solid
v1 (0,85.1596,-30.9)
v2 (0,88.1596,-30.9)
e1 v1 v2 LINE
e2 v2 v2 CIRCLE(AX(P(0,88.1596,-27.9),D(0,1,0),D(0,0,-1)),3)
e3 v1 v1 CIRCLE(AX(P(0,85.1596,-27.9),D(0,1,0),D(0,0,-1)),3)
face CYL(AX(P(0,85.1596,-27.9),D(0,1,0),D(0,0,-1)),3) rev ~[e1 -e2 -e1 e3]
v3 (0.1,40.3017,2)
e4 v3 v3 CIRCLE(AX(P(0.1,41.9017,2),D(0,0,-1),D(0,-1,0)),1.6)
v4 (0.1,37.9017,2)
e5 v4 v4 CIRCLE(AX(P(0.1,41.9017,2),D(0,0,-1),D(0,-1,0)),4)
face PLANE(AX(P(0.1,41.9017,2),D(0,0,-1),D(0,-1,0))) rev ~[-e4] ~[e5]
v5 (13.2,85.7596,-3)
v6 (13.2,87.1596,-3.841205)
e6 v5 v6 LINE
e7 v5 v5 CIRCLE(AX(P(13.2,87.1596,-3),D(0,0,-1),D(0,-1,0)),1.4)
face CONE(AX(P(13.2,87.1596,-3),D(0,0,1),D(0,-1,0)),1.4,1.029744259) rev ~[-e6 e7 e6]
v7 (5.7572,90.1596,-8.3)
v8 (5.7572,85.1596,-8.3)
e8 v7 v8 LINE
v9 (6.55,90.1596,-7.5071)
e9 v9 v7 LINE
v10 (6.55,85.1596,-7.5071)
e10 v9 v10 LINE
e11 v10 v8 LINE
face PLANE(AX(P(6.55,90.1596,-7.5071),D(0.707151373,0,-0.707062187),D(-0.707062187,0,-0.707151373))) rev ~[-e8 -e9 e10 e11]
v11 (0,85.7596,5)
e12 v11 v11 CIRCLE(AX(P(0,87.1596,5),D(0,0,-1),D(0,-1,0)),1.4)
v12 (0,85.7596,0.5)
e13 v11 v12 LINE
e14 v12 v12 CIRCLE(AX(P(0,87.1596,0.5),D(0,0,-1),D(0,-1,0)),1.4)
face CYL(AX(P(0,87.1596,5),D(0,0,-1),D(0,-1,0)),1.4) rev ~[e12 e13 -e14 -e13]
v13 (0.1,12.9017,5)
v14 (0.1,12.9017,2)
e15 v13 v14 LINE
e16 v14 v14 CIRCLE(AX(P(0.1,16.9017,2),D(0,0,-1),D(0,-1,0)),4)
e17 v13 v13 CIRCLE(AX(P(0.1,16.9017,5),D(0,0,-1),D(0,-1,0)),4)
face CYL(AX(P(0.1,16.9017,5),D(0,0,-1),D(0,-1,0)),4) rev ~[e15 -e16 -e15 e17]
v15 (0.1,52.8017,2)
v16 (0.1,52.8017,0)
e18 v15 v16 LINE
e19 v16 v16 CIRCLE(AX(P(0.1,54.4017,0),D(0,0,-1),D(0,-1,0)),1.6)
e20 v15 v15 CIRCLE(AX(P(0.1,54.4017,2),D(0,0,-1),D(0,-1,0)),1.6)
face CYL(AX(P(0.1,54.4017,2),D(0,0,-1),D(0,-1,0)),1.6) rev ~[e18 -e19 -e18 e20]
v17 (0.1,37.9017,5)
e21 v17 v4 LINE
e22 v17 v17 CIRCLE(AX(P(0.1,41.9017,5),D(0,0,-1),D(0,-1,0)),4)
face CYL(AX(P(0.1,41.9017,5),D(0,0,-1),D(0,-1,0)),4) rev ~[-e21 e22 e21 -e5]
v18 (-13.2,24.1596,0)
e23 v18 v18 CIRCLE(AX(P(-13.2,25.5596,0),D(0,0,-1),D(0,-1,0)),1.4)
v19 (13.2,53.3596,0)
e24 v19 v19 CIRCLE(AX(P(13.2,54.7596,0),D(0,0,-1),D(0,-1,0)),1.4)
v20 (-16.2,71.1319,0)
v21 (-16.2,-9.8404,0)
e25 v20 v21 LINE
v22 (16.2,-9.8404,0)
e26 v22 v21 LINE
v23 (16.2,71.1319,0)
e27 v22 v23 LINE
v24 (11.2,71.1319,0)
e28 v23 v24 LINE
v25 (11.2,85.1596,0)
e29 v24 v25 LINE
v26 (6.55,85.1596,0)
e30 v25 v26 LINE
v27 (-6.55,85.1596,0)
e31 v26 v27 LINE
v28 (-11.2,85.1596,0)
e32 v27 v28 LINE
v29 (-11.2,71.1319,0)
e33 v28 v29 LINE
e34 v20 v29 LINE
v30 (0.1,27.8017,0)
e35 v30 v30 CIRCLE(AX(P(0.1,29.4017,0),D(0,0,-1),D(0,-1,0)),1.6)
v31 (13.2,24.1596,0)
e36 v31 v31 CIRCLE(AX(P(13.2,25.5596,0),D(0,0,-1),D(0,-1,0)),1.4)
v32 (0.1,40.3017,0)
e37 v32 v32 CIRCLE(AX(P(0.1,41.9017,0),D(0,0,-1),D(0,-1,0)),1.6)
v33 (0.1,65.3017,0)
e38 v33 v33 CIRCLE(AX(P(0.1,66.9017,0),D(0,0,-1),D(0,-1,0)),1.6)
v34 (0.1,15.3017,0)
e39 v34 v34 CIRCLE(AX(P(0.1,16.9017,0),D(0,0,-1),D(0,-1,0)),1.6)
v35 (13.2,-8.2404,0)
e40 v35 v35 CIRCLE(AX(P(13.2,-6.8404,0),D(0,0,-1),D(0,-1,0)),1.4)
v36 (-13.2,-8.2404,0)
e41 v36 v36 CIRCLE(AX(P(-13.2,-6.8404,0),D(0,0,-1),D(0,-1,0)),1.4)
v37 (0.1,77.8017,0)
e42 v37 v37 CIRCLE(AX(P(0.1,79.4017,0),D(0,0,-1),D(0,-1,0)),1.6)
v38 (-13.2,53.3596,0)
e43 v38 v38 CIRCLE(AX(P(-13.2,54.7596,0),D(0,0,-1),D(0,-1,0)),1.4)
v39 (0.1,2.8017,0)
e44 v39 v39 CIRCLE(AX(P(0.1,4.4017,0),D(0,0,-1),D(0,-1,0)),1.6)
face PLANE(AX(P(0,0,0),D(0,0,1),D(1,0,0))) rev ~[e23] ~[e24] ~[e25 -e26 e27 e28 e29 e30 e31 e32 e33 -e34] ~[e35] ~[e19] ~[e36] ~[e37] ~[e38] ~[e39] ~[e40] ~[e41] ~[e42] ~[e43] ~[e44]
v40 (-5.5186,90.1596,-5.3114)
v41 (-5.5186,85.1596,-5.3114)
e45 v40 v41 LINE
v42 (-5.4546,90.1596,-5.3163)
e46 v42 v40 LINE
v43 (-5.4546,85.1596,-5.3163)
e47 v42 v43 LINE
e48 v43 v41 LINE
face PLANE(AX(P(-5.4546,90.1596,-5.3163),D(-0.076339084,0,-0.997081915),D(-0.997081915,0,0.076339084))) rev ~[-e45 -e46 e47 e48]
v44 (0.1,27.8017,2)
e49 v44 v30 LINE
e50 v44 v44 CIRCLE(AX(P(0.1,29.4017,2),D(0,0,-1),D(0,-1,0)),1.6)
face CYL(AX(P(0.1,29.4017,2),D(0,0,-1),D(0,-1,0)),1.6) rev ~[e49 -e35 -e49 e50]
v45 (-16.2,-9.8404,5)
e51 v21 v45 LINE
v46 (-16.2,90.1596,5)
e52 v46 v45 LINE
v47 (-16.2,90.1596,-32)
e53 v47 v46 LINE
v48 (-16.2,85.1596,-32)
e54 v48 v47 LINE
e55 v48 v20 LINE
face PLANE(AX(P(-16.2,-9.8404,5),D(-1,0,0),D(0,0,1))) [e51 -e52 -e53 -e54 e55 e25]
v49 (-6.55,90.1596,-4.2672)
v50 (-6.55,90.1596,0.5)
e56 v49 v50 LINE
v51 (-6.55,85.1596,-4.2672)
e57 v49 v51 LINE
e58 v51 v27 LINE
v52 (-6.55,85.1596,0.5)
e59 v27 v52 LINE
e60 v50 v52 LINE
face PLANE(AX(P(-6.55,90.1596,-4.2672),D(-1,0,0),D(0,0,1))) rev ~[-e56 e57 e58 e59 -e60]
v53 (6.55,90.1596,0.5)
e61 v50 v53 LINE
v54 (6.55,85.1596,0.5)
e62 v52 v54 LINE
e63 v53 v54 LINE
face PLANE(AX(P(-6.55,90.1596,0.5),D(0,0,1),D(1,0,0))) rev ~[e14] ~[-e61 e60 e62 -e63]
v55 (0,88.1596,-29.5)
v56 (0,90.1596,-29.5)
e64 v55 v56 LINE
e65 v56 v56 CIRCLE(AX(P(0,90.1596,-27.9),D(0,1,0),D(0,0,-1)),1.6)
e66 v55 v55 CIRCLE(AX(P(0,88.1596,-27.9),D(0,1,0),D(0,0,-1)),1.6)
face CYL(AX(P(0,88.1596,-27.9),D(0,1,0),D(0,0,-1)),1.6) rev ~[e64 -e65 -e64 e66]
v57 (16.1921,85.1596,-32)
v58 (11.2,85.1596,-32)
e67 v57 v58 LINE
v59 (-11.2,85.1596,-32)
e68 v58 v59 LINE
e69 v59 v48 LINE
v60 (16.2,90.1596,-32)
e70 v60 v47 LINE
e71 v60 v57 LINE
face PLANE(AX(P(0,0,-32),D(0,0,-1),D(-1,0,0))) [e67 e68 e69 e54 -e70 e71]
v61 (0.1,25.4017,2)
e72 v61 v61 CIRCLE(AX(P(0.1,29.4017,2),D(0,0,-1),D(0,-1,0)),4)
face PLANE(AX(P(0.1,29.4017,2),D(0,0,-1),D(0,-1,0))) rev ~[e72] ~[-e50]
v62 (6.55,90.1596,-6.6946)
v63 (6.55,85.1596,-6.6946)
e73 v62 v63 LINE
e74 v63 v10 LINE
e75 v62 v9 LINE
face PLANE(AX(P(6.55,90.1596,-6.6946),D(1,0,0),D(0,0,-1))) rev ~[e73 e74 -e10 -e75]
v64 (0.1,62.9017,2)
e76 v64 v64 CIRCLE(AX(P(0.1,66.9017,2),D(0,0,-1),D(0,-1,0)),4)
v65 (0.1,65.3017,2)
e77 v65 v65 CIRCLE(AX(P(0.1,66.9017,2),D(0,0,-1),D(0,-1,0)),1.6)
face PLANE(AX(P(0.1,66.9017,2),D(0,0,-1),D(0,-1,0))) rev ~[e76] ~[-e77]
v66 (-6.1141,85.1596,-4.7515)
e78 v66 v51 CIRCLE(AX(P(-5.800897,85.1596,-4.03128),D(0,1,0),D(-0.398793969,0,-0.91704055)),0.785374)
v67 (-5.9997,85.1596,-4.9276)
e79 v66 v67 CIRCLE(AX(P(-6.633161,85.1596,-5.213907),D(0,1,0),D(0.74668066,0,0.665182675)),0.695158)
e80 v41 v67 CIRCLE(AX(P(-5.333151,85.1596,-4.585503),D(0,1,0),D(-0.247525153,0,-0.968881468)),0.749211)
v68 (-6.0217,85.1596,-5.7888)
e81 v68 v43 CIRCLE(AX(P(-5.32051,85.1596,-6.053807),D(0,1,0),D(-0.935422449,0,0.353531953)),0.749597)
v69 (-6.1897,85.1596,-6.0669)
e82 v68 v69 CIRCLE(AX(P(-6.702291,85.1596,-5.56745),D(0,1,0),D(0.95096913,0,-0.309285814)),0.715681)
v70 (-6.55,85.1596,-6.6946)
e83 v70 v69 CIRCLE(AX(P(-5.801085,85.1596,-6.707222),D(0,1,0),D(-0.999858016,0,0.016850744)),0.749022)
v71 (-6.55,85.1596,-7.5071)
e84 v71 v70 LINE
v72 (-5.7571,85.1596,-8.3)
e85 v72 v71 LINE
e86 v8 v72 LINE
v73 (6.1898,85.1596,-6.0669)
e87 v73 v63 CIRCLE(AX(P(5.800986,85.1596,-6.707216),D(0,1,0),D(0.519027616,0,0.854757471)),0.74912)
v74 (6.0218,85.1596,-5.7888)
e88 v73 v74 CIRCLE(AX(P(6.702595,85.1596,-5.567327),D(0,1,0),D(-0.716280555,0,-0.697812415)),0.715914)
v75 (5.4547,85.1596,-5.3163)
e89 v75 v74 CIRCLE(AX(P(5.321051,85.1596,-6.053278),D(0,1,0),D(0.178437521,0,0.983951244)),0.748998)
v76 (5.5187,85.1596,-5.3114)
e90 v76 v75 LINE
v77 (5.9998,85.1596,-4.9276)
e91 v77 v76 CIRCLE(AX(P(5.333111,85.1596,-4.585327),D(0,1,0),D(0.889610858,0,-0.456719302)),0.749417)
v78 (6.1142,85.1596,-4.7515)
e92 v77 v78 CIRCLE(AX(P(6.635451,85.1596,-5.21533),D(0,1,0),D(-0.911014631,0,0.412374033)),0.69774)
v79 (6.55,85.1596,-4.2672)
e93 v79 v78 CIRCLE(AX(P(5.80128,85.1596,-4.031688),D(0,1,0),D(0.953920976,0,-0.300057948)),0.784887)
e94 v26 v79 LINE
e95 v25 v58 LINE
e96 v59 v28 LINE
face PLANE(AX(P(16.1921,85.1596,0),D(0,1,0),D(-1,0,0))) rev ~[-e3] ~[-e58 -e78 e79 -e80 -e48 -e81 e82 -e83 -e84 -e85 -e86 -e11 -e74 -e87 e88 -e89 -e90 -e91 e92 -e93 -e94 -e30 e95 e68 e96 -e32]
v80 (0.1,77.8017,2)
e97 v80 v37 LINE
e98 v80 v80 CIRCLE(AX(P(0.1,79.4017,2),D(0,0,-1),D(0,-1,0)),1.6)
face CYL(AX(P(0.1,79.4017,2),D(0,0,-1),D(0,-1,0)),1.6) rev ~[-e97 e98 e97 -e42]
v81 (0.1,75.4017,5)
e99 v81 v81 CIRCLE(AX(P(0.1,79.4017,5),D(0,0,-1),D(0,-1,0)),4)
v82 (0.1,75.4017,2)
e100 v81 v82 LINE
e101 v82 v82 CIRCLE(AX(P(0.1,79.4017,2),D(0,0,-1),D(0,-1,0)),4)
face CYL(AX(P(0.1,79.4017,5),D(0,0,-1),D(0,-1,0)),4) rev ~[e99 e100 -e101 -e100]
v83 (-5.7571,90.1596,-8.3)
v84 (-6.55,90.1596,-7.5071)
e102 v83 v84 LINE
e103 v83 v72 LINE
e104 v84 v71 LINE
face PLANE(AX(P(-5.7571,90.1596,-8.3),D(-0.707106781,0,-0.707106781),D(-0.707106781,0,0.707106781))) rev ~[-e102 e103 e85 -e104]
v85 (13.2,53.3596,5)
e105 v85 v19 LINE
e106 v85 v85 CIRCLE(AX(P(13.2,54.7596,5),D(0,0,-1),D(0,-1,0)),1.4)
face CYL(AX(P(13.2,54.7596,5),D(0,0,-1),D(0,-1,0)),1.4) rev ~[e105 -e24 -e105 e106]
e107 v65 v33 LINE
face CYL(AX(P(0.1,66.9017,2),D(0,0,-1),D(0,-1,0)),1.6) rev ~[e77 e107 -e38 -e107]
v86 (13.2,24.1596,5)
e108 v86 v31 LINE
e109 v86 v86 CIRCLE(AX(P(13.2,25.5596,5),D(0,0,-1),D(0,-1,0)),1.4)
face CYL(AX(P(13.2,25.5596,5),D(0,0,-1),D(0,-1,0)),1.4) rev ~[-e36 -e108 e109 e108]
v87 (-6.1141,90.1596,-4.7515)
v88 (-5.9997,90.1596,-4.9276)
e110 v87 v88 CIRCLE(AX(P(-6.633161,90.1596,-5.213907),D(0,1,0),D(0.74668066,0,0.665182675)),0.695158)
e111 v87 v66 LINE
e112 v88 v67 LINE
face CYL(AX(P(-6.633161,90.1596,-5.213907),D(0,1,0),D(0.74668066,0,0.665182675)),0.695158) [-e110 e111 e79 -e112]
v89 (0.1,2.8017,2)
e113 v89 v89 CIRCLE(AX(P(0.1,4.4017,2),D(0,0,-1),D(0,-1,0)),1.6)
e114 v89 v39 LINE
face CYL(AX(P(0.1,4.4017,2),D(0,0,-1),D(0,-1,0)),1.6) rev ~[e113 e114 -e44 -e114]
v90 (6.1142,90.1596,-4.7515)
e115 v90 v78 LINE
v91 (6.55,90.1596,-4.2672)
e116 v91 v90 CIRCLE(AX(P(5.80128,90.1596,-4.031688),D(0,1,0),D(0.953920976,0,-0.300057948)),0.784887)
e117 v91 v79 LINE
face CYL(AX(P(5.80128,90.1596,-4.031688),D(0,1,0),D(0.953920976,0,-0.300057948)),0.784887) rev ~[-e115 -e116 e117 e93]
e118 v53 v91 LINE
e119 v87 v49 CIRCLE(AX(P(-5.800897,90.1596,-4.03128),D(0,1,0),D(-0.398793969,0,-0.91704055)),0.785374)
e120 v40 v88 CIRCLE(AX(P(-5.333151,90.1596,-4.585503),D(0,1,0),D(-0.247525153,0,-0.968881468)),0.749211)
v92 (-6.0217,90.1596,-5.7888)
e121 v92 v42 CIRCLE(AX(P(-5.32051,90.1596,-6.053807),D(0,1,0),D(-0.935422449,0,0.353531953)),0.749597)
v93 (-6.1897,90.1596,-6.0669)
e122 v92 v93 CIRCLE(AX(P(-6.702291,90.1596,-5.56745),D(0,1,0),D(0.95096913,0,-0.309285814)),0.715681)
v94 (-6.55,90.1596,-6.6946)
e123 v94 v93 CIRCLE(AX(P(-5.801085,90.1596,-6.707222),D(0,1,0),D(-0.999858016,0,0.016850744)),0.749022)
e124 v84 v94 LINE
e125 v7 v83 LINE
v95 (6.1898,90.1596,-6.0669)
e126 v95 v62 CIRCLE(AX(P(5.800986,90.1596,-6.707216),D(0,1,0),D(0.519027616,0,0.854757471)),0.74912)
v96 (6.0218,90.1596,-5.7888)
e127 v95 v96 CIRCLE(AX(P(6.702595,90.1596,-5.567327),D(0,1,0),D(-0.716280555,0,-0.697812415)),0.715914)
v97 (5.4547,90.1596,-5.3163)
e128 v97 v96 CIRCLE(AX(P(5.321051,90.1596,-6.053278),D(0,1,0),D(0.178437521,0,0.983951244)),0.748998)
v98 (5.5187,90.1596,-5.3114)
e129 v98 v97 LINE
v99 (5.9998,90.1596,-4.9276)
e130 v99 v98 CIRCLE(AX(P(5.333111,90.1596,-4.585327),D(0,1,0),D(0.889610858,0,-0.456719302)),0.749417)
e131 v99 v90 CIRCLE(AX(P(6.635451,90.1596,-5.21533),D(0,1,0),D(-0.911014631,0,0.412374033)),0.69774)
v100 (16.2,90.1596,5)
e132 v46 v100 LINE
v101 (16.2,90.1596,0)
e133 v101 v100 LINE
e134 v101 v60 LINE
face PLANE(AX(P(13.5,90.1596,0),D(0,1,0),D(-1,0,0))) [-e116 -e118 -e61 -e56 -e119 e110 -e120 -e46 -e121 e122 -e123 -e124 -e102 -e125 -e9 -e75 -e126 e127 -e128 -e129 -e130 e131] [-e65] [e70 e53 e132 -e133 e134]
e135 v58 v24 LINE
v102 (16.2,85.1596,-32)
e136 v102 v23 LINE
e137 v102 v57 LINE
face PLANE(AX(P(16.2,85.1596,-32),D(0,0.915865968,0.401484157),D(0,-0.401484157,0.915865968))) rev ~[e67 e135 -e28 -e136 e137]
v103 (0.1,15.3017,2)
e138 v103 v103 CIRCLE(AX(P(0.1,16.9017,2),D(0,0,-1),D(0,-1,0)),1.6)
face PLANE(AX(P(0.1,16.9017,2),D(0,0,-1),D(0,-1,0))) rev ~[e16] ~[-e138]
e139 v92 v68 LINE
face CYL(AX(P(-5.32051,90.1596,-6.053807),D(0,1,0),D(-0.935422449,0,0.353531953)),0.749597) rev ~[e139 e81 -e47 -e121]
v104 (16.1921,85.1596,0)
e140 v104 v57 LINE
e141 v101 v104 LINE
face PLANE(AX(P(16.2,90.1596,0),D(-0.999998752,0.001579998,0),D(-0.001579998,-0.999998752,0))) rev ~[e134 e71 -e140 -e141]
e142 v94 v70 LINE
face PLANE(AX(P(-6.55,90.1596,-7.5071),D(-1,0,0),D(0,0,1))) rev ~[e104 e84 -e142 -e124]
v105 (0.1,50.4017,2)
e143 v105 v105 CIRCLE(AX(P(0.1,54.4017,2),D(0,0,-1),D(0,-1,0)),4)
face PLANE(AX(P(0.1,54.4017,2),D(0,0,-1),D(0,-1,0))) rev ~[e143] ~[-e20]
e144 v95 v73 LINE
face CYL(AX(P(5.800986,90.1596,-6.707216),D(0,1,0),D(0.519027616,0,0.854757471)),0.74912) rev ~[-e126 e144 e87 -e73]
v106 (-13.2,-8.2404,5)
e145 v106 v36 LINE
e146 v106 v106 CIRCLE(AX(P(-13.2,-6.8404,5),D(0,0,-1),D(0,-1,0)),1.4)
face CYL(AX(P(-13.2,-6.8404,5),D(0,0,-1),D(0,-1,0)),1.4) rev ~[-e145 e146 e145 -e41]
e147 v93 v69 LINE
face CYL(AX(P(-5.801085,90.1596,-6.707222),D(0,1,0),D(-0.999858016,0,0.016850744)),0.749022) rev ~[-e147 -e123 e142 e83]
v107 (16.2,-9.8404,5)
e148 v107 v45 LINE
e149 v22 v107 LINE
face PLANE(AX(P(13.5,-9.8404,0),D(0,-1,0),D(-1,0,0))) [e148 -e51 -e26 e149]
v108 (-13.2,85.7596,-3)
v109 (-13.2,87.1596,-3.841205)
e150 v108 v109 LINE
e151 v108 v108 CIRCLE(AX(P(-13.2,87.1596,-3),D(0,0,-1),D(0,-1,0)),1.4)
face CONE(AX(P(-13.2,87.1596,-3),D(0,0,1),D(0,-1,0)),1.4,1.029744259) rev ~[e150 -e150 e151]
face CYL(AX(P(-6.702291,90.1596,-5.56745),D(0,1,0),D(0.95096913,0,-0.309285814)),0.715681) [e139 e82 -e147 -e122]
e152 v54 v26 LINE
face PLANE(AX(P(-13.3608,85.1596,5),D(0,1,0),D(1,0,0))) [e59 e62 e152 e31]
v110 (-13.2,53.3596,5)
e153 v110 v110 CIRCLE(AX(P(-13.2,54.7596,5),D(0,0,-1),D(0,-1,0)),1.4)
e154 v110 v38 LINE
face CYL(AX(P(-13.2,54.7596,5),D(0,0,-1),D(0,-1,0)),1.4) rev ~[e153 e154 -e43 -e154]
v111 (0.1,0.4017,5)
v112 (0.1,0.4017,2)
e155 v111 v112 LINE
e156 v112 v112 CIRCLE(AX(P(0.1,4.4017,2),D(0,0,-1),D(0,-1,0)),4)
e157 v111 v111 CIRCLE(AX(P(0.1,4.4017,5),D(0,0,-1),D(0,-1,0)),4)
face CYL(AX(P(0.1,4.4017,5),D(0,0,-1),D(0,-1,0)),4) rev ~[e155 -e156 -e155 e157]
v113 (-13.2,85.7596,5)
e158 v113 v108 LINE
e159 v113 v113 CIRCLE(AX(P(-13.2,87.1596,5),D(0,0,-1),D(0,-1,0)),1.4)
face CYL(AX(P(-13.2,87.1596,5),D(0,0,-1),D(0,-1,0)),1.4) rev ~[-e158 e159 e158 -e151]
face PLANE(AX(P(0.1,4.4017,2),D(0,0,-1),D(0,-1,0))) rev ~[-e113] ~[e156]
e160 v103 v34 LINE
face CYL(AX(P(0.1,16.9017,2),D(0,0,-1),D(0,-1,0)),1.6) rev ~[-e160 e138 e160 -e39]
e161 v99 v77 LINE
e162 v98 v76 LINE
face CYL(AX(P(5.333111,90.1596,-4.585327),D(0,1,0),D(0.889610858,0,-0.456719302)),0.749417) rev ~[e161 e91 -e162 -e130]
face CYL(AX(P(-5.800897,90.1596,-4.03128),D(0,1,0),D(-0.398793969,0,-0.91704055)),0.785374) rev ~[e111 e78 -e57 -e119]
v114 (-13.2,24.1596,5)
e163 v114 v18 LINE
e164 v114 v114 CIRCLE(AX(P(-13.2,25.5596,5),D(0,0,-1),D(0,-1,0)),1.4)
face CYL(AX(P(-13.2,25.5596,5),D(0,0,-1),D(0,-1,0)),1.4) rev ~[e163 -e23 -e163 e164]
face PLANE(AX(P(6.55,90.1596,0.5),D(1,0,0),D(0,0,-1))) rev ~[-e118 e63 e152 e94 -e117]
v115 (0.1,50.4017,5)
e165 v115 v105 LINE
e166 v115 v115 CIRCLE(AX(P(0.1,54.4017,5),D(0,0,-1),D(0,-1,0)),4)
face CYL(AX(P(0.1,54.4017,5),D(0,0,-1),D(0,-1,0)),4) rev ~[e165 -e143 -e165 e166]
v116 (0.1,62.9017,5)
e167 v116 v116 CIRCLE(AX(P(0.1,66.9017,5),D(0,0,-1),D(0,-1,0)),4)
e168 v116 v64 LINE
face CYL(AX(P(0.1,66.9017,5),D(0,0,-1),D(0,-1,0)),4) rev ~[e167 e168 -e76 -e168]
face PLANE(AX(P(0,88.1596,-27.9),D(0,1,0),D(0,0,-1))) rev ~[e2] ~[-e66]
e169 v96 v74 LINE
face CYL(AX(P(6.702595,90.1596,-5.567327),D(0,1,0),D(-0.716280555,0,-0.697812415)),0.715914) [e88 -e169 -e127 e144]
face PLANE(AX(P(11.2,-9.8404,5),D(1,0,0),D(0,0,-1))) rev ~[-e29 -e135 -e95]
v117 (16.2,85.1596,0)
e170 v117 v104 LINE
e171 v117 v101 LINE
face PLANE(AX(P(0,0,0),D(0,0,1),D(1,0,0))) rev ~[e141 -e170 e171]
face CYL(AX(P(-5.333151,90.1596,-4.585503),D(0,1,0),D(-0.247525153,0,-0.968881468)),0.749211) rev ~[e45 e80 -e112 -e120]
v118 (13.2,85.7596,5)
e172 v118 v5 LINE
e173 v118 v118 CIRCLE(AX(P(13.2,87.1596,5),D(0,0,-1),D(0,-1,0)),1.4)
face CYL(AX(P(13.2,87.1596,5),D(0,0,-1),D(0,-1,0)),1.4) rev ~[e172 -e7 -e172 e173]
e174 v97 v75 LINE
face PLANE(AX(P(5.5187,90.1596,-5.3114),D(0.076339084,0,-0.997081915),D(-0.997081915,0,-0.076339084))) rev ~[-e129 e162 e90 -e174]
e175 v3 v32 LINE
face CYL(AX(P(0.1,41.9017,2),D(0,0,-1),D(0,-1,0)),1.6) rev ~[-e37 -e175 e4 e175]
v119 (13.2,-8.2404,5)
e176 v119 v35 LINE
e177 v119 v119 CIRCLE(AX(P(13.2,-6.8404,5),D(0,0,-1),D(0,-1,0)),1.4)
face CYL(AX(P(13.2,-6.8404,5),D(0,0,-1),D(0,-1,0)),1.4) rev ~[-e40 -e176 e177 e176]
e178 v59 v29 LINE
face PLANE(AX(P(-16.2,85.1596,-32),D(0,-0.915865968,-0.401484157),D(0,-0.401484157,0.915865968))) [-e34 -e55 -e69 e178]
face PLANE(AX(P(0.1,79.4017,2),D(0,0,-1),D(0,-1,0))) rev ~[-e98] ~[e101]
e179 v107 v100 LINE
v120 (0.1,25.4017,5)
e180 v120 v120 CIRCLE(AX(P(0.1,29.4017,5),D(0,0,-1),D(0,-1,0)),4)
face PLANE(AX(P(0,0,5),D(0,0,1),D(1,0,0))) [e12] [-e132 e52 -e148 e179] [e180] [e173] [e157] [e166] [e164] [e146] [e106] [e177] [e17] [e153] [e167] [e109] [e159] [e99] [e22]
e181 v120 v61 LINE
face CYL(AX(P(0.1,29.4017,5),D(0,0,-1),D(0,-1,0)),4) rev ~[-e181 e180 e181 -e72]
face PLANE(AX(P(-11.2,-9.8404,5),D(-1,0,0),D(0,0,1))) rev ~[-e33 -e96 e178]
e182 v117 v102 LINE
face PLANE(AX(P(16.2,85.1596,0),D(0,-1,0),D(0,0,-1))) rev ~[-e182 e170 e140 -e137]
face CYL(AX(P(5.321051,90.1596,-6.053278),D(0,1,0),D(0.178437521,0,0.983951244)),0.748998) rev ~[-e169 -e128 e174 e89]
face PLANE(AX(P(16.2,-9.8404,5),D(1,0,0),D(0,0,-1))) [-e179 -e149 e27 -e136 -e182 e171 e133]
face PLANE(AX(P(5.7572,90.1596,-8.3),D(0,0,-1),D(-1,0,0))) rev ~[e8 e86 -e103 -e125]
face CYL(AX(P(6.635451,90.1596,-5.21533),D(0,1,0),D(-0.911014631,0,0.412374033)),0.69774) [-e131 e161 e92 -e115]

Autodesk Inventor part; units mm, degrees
ref_plane "YZ Plane" through (0, 0, 0) normal (1, 0, 0) x (0, 1, 0)
ref_plane "XZ Plane" through (0, 0, 0) normal (0, 1, 0) x (-1, 0, 0)
ref_plane "XY Plane" through (0, 0, 0) normal (0, 0, 1) x (1, 0, 0)
ref_plane "Arbeitsebene1" through (0, 0, 0) normal (0, 0, 1) x (1, 0, 0)
sketch "Skizze1" plane through (0, 0, 0) normal (0, 0, 1) x (1, 0, 0)
  circle A0 centre (0.1, 41.9017) radius 1.75 projected
  circle A1 centre (0.1, 29.4017) radius 1.75 projected
  circle A2 centre (0.1, 16.9017) radius 1.75 projected
  circle A3 centre (0.1, 4.4017) radius 1.75 projected
  line L0 (6.05, 0) -> (-6.05, 0) projected
  line L1 (6.05, 0) -> (6.05, 50) projected
  line L2 (6.05, 50) -> (-6.05, 50) projected
  line L3 (-6.05, 0) -> (-6.05, 50) projected
  line L4 (13.5, 40.6086) -> (13.5, 8.2086) projected
  line L5 (-13.5, 40.6086) -> (-13.5, 8.2086) projected
  line L6 (13.5, -9.8404) -> (-13.3608, -9.8404)
  line L7 (-13.3608, -9.8404) -> (-13.3608, 90.1596)
  line L8 (-13.3608, 90.1596) -> (13.5, 90.1596)
  line L9 (13.5, 90.1596) -> (13.5, -9.8404)
  line L10 (-13.3608, 90.1596) -> (-16.2, 90.1596)
  line L11 (-16.2, 90.1596) -> (-16.2, -9.8404)
  line L12 (-16.2, -9.8404) -> (-13.3608, -9.8404)
  line L13 (-13.3608, -9.8404) -> (-13.3608, 90.1596)
  line L14 (13.5, -9.8404) -> (16.2, -9.8404)
  line L15 (16.2, -9.8404) -> (16.2, 90.1596)
  line L16 (16.2, 90.1596) -> (13.5, 90.1596)
  line L17 (13.5, 90.1596) -> (13.5, -9.8404)
  point P0 (0, 0)
  dimension "d0" = 100
  dimension "d34" = 27
  dimension "d35" = 2.7
  dimension "d36" = 2.7
extrude "Extrusion1" add sketch "Skizze1" along normal blind 5 contours A0 | A1 | A2 | A3 | L0 L3 L2 L1 | L9 L16 L15 L14 L4 | L4 L9 L6 L7 L8 | L7 L12 L11 L10
sketch "Skizze2" plane through (0, 0, 0) normal (0, 0, -1) x (-1, 0, 0)
  line L0 (-13.5, 90.1596) -> (16.2, 90.1596)
  line L1 (16.2, 90.1596) -> (-16.2, 90.1596)
  line L2 (-16.2, 90.1596) -> (-16.1921, 85.1596)
  line L3 (-16.1921, 85.1596) -> (16.2, 85.1596)
  line L4 (16.2, 85.1596) -> (16.2, 90.1596)
  line L5 (13.3608, -9.8404) -> (-13.5, -9.8404)
  line L6 (-13.5, -9.8404) -> (-13.5, -4.8404)
  line L7 (-13.5, -4.8404) -> (13.3608, -4.8404)
  line L8 (13.3608, -4.8404) -> (13.3608, -9.8404)
  line L9 (-16.2, 90.1596) -> (16.2, 90.1596) projected
  point P0 (0, 0)
  dimension "d3" = 5
  dimension "d4" = 5
extrude "Extrusion2" add sketch "Skizze2" along normal blind 32 contours L0 L4 L3 L2 L1
sketch "Skizze3" plane through (16.2, -9.8404, 5) normal (1, 0, 0) x (0, 0, -1)
  line L0 (5, 0) -> (5, 95) projected
  line L1 (5, 95) -> (37, 95) projected
  line L2 (37, 100) -> (37, 95) projected
  line L3 (37, 100) -> (0, 100) projected
  line L4 (0, 0) -> (0, 100) projected
  line L5 (37, 100) -> (37, 95) projected
  line L6 (37, 95) -> (5, 80.9723)
  line L7 (5, 95) -> (5, 5) projected
  line L8 (5, 0) -> (0, 0) projected
  point P0 (5, 9.8404)
extrude "Extrusion3" add sketch "Skizze3" against normal blind 5 contours L0 L1 L6
sketch "Skizze4" plane through (-16.2, -9.8404, 5) normal (-1, 0, 0) x (0, 0, 1)
  line L0 (-5, 95) -> (-5, 80.9723) projected
  line L1 (-37, 95) -> (-5, 95) projected
  line L2 (-37, 95) -> (-5, 80.9723) projected
  point P0 (-5, 9.8404)
extrude "Extrusion4" add sketch "Skizze4" against normal blind 5
sketch "Skizze5" plane through (11.2, 85.1596, -32) normal (0, -1, 0) x (1, 0, 0)
  circle A0 centre (-11.2, 4.1) radius 1.75 projected
  point P0 (-11.2, 32)
hole "Bohrung1" at (0, 85.1596, -27.9) direction (0, 1, 0) diameter 3.2 end through all counterbore diameter 6 counterbore depth 3
sketch "Skizze6" plane through (0, 0, 5) normal (0, 0, 1) x (1, 0, 0)
  circle A0 centre (0.1, 16.9017) radius 1.75 projected
  point P0 (0, 0)
hole "Bohrung2" at (0.1, 16.9017, 5) direction (0, 0, -1) diameter 3.2 end through all counterbore diameter 8 counterbore depth 3
pattern_linear "Rechteckige Anordnung1" count 6 spacing 12.5 along (0, 1, 0) count 2 spacing 12.5 along (0, -1, 0) of "Bohrung2"
sketch "Skizze7" plane through (-13.3608, 90.1596, 5) normal (0, 1, 0) x (1, 0, 0)
  arc A0 (19.4108, 9.1706) -> (19.209, 9.3127) centre (19.1621, 9.0317) ccw projected
  arc A1 (18.9122, 9.7059) -> (19.209, 9.3127) centre (19.9951, 10.2147) ccw projected
  arc A2 (18.9122, 9.7059) -> (18.7859, 9.8171) centre (18.694, 9.5854) ccw projected
  line L0 (18.7859, 9.8171) -> (18.2888, 9.8559) projected
  arc A3 (18.0608, 10.0745) -> (18.2888, 9.8559) centre (18.3083, 10.1044) ccw projected
  line L1 (18.0608, 10.0745) -> (18.0608, 10.5256) projected
  arc A4 (18.2884, 10.7739) -> (18.0608, 10.5256) centre (18.3101, 10.5256) ccw projected
  line L2 (18.2884, 10.7739) -> (18.6539, 10.8058) projected
  arc A5 (18.6539, 10.8058) -> (18.9122, 10.9588) centre (18.6817, 11.0536) ccw projected
  arc A6 (19.2562, 11.4767) -> (18.9122, 10.9588) centre (20.0633, 10.5674) ccw projected
  arc A7 (19.2562, 11.4767) -> (19.4108, 11.7) centre (19.1617, 11.7073) ccw projected
  line L3 (19.4108, 11.7) -> (19.4108, 12.3) projected
  line L4 (19.4108, 12.3) -> (18.9108, 12.8) projected
  line L5 (18.9108, 12.8) -> (7.8108, 12.8) projected
  line L6 (7.3108, 12.3) -> (7.8108, 12.8) projected
  line L7 (7.3108, 11.7) -> (7.3108, 12.3) projected
  arc A8 (7.3108, 11.7) -> (7.4655, 11.4767) centre (7.56, 11.7073) ccw projected
  arc A9 (7.8095, 10.9588) -> (7.4655, 11.4767) centre (6.6584, 10.5674) ccw projected
  arc A10 (7.8095, 10.9588) -> (8.0678, 10.8058) centre (8.04, 11.0536) ccw projected
  line L8 (8.4333, 10.7739) -> (8.0678, 10.8058) projected
  arc A11 (8.6608, 10.5256) -> (8.4333, 10.7739) centre (8.4116, 10.5256) ccw projected
  line L9 (8.6608, 10.0745) -> (8.6608, 10.5256) projected
  arc A12 (8.4328, 9.8559) -> (8.6608, 10.0745) centre (8.4134, 10.1044) ccw projected
  line L10 (7.9358, 9.8171) -> (8.4328, 9.8559) projected
  arc A13 (7.9358, 9.8171) -> (7.8095, 9.7059) centre (8.0277, 9.5854) ccw projected
  arc A14 (7.5127, 9.3127) -> (7.8095, 9.7059) centre (6.7266, 10.2147) ccw projected
  arc A15 (7.5127, 9.3127) -> (7.3108, 9.1706) centre (7.5596, 9.0317) ccw projected
  line L11 (7.3108, 5) -> (7.3108, 9.1706) projected
  line L12 (19.4108, 5) -> (7.3108, 5) projected
  line L13 (19.4108, 5) -> (19.4108, 9.1706) projected
  arc A16 (19.9108, 9.2672) -> (19.475, 9.7515) centre (19.1621, 9.0317) ccw
  arc A17 (19.3606, 9.9276) -> (19.475, 9.7515) centre (19.9951, 10.2147) ccw
  arc A18 (19.3606, 9.9276) -> (18.8795, 10.3114) centre (18.694, 9.5854) ccw
  line L14 (18.8795, 10.3114) -> (18.8155, 10.3163)
  arc A19 (18.8155, 10.3163) -> (19.3826, 10.7888) centre (18.6817, 11.0536) ccw
  arc A20 (19.5506, 11.0669) -> (19.3826, 10.7888) centre (20.0633, 10.5674) ccw
  arc A21 (19.5506, 11.0669) -> (19.9108, 11.6946) centre (19.1617, 11.7073) ccw
  line L15 (19.9108, 11.6946) -> (19.9108, 12.5071)
  line L16 (19.9108, 12.5071) -> (19.118, 13.3)
  line L17 (19.118, 13.3) -> (7.6037, 13.3)
  line L18 (7.6037, 13.3) -> (6.8108, 12.5071)
  line L19 (6.8108, 12.5071) -> (6.8108, 11.6946)
  arc A22 (6.8108, 11.6946) -> (7.1711, 11.0669) centre (7.56, 11.7073) ccw
  arc A23 (7.3391, 10.7888) -> (7.1711, 11.0669) centre (6.6584, 10.5674) ccw
  arc A24 (7.3391, 10.7888) -> (7.9062, 10.3163) centre (8.04, 11.0536) ccw
  line L20 (7.9062, 10.3163) -> (7.8422, 10.3114)
  arc A25 (7.8422, 10.3114) -> (7.3611, 9.9276) centre (8.0277, 9.5854) ccw
  arc A26 (7.2467, 9.7515) -> (7.3611, 9.9276) centre (6.7266, 10.2147) ccw
  arc A27 (7.2467, 9.7515) -> (6.8108, 9.2672) centre (7.5596, 9.0317) ccw
  line L21 (6.8108, 9.2672) -> (6.8108, 4.5)
  line L22 (6.8108, 4.5) -> (19.9108, 4.5)
  line L23 (19.9108, 4.5) -> (19.9108, 9.2672)
  point P0 (13.3608, 5)
  dimension "d31" = 0.5
extrude "Extrusion5" cut sketch "Skizze7" against normal up to surface (5 mm away) contours L13 L12 L11 A15 A14 A13 L10 A12 L9 A11 L8 A10 A9 A8 L7 L6 L5 L4 L3 A7 A6 A5 L2 A4 L1 A3 L0 A2 A1 A0 | L23 L22 L21 A27 A26 A25 L20 A24 A23 A22 L19 L18 L17 L16 L15 A21 A20 A19 L14 A18 A17 A16
sketch "Skizze10" plane through (0, 0, 5) normal (0, 0, 1) x (1, 0, 0)
  line L0 (16.2, -9.8404) -> (16.2, 90.1596) projected
  line L1 (-16.2, 90.1596) -> (-16.2, -9.8404) projected
  line L2 (16.2, 90.1596) -> (-16.2, 90.1596) projected
  line L3 (-13.2, 54.7596) -> (13.2, 54.7596)
  line L4 (13.2, 54.7596) -> (13.2, 87.1596)
  line L5 (13.2, 87.1596) -> (-13.2, 87.1596)
  line L6 (-13.2, 87.1596) -> (-13.2, 54.7596)
  line L7 (-13.2, 54.7596) -> (13.2, 87.1596) construction
  line L8 (13.2, 54.7596) -> (-13.2, 87.1596) construction
  line L9 (18.5, 39.0086) -> (18.5, 36.2086) projected
  line L10 (17.2, 28.5596) -> (-15.2, 28.5596)
  line L11 (-13.2, -6.8404) -> (13.2, -6.8404)
  line L12 (13.2, -6.8404) -> (13.2, 25.5596)
  line L13 (13.2, 25.5596) -> (-13.2, 25.5596)
  line L14 (-13.2, 25.5596) -> (-13.2, -6.8404)
  line L15 (-13.2, -6.8404) -> (13.2, 25.5596) construction
  line L16 (13.2, -6.8404) -> (-13.2, 25.5596) construction
  line L17 (18.5, 40.6086) -> (18.5, 8.2086) projected
  point P0 (0, 0)
  point P1 (0, 70.9596)
  point P2 (0, 87.1596)
  point P3 (0, 9.3596)
  point P4 (0, 25.5596)
  dimension "d37" = 26.4
  dimension "d38" = 32.4
  dimension "d39" = 3
  dimension "d47" = 26.4
  dimension "d48" = 32.4
  dimension "d49" = 3
  dimension "d50" = 3
hole "Bohrung3" at (0, 87.1596, 5) at (13.2, 54.7596, 5) at (-13.2, 54.7596, 5) at (-13.2, 87.1596, 5) at (13.2, 87.1596, 5) at (-13.2, -6.8404, 5) at (13.2, -6.8404, 5) at (13.2, 25.5596, 5) at (-13.2, 25.5596, 5) direction (0, 0, -1) diameter 2.8 depth 8 tip angle 118
equation "\"d36\" = d35"
properties part number "30_Linear_Captive_Nema8_Base"
